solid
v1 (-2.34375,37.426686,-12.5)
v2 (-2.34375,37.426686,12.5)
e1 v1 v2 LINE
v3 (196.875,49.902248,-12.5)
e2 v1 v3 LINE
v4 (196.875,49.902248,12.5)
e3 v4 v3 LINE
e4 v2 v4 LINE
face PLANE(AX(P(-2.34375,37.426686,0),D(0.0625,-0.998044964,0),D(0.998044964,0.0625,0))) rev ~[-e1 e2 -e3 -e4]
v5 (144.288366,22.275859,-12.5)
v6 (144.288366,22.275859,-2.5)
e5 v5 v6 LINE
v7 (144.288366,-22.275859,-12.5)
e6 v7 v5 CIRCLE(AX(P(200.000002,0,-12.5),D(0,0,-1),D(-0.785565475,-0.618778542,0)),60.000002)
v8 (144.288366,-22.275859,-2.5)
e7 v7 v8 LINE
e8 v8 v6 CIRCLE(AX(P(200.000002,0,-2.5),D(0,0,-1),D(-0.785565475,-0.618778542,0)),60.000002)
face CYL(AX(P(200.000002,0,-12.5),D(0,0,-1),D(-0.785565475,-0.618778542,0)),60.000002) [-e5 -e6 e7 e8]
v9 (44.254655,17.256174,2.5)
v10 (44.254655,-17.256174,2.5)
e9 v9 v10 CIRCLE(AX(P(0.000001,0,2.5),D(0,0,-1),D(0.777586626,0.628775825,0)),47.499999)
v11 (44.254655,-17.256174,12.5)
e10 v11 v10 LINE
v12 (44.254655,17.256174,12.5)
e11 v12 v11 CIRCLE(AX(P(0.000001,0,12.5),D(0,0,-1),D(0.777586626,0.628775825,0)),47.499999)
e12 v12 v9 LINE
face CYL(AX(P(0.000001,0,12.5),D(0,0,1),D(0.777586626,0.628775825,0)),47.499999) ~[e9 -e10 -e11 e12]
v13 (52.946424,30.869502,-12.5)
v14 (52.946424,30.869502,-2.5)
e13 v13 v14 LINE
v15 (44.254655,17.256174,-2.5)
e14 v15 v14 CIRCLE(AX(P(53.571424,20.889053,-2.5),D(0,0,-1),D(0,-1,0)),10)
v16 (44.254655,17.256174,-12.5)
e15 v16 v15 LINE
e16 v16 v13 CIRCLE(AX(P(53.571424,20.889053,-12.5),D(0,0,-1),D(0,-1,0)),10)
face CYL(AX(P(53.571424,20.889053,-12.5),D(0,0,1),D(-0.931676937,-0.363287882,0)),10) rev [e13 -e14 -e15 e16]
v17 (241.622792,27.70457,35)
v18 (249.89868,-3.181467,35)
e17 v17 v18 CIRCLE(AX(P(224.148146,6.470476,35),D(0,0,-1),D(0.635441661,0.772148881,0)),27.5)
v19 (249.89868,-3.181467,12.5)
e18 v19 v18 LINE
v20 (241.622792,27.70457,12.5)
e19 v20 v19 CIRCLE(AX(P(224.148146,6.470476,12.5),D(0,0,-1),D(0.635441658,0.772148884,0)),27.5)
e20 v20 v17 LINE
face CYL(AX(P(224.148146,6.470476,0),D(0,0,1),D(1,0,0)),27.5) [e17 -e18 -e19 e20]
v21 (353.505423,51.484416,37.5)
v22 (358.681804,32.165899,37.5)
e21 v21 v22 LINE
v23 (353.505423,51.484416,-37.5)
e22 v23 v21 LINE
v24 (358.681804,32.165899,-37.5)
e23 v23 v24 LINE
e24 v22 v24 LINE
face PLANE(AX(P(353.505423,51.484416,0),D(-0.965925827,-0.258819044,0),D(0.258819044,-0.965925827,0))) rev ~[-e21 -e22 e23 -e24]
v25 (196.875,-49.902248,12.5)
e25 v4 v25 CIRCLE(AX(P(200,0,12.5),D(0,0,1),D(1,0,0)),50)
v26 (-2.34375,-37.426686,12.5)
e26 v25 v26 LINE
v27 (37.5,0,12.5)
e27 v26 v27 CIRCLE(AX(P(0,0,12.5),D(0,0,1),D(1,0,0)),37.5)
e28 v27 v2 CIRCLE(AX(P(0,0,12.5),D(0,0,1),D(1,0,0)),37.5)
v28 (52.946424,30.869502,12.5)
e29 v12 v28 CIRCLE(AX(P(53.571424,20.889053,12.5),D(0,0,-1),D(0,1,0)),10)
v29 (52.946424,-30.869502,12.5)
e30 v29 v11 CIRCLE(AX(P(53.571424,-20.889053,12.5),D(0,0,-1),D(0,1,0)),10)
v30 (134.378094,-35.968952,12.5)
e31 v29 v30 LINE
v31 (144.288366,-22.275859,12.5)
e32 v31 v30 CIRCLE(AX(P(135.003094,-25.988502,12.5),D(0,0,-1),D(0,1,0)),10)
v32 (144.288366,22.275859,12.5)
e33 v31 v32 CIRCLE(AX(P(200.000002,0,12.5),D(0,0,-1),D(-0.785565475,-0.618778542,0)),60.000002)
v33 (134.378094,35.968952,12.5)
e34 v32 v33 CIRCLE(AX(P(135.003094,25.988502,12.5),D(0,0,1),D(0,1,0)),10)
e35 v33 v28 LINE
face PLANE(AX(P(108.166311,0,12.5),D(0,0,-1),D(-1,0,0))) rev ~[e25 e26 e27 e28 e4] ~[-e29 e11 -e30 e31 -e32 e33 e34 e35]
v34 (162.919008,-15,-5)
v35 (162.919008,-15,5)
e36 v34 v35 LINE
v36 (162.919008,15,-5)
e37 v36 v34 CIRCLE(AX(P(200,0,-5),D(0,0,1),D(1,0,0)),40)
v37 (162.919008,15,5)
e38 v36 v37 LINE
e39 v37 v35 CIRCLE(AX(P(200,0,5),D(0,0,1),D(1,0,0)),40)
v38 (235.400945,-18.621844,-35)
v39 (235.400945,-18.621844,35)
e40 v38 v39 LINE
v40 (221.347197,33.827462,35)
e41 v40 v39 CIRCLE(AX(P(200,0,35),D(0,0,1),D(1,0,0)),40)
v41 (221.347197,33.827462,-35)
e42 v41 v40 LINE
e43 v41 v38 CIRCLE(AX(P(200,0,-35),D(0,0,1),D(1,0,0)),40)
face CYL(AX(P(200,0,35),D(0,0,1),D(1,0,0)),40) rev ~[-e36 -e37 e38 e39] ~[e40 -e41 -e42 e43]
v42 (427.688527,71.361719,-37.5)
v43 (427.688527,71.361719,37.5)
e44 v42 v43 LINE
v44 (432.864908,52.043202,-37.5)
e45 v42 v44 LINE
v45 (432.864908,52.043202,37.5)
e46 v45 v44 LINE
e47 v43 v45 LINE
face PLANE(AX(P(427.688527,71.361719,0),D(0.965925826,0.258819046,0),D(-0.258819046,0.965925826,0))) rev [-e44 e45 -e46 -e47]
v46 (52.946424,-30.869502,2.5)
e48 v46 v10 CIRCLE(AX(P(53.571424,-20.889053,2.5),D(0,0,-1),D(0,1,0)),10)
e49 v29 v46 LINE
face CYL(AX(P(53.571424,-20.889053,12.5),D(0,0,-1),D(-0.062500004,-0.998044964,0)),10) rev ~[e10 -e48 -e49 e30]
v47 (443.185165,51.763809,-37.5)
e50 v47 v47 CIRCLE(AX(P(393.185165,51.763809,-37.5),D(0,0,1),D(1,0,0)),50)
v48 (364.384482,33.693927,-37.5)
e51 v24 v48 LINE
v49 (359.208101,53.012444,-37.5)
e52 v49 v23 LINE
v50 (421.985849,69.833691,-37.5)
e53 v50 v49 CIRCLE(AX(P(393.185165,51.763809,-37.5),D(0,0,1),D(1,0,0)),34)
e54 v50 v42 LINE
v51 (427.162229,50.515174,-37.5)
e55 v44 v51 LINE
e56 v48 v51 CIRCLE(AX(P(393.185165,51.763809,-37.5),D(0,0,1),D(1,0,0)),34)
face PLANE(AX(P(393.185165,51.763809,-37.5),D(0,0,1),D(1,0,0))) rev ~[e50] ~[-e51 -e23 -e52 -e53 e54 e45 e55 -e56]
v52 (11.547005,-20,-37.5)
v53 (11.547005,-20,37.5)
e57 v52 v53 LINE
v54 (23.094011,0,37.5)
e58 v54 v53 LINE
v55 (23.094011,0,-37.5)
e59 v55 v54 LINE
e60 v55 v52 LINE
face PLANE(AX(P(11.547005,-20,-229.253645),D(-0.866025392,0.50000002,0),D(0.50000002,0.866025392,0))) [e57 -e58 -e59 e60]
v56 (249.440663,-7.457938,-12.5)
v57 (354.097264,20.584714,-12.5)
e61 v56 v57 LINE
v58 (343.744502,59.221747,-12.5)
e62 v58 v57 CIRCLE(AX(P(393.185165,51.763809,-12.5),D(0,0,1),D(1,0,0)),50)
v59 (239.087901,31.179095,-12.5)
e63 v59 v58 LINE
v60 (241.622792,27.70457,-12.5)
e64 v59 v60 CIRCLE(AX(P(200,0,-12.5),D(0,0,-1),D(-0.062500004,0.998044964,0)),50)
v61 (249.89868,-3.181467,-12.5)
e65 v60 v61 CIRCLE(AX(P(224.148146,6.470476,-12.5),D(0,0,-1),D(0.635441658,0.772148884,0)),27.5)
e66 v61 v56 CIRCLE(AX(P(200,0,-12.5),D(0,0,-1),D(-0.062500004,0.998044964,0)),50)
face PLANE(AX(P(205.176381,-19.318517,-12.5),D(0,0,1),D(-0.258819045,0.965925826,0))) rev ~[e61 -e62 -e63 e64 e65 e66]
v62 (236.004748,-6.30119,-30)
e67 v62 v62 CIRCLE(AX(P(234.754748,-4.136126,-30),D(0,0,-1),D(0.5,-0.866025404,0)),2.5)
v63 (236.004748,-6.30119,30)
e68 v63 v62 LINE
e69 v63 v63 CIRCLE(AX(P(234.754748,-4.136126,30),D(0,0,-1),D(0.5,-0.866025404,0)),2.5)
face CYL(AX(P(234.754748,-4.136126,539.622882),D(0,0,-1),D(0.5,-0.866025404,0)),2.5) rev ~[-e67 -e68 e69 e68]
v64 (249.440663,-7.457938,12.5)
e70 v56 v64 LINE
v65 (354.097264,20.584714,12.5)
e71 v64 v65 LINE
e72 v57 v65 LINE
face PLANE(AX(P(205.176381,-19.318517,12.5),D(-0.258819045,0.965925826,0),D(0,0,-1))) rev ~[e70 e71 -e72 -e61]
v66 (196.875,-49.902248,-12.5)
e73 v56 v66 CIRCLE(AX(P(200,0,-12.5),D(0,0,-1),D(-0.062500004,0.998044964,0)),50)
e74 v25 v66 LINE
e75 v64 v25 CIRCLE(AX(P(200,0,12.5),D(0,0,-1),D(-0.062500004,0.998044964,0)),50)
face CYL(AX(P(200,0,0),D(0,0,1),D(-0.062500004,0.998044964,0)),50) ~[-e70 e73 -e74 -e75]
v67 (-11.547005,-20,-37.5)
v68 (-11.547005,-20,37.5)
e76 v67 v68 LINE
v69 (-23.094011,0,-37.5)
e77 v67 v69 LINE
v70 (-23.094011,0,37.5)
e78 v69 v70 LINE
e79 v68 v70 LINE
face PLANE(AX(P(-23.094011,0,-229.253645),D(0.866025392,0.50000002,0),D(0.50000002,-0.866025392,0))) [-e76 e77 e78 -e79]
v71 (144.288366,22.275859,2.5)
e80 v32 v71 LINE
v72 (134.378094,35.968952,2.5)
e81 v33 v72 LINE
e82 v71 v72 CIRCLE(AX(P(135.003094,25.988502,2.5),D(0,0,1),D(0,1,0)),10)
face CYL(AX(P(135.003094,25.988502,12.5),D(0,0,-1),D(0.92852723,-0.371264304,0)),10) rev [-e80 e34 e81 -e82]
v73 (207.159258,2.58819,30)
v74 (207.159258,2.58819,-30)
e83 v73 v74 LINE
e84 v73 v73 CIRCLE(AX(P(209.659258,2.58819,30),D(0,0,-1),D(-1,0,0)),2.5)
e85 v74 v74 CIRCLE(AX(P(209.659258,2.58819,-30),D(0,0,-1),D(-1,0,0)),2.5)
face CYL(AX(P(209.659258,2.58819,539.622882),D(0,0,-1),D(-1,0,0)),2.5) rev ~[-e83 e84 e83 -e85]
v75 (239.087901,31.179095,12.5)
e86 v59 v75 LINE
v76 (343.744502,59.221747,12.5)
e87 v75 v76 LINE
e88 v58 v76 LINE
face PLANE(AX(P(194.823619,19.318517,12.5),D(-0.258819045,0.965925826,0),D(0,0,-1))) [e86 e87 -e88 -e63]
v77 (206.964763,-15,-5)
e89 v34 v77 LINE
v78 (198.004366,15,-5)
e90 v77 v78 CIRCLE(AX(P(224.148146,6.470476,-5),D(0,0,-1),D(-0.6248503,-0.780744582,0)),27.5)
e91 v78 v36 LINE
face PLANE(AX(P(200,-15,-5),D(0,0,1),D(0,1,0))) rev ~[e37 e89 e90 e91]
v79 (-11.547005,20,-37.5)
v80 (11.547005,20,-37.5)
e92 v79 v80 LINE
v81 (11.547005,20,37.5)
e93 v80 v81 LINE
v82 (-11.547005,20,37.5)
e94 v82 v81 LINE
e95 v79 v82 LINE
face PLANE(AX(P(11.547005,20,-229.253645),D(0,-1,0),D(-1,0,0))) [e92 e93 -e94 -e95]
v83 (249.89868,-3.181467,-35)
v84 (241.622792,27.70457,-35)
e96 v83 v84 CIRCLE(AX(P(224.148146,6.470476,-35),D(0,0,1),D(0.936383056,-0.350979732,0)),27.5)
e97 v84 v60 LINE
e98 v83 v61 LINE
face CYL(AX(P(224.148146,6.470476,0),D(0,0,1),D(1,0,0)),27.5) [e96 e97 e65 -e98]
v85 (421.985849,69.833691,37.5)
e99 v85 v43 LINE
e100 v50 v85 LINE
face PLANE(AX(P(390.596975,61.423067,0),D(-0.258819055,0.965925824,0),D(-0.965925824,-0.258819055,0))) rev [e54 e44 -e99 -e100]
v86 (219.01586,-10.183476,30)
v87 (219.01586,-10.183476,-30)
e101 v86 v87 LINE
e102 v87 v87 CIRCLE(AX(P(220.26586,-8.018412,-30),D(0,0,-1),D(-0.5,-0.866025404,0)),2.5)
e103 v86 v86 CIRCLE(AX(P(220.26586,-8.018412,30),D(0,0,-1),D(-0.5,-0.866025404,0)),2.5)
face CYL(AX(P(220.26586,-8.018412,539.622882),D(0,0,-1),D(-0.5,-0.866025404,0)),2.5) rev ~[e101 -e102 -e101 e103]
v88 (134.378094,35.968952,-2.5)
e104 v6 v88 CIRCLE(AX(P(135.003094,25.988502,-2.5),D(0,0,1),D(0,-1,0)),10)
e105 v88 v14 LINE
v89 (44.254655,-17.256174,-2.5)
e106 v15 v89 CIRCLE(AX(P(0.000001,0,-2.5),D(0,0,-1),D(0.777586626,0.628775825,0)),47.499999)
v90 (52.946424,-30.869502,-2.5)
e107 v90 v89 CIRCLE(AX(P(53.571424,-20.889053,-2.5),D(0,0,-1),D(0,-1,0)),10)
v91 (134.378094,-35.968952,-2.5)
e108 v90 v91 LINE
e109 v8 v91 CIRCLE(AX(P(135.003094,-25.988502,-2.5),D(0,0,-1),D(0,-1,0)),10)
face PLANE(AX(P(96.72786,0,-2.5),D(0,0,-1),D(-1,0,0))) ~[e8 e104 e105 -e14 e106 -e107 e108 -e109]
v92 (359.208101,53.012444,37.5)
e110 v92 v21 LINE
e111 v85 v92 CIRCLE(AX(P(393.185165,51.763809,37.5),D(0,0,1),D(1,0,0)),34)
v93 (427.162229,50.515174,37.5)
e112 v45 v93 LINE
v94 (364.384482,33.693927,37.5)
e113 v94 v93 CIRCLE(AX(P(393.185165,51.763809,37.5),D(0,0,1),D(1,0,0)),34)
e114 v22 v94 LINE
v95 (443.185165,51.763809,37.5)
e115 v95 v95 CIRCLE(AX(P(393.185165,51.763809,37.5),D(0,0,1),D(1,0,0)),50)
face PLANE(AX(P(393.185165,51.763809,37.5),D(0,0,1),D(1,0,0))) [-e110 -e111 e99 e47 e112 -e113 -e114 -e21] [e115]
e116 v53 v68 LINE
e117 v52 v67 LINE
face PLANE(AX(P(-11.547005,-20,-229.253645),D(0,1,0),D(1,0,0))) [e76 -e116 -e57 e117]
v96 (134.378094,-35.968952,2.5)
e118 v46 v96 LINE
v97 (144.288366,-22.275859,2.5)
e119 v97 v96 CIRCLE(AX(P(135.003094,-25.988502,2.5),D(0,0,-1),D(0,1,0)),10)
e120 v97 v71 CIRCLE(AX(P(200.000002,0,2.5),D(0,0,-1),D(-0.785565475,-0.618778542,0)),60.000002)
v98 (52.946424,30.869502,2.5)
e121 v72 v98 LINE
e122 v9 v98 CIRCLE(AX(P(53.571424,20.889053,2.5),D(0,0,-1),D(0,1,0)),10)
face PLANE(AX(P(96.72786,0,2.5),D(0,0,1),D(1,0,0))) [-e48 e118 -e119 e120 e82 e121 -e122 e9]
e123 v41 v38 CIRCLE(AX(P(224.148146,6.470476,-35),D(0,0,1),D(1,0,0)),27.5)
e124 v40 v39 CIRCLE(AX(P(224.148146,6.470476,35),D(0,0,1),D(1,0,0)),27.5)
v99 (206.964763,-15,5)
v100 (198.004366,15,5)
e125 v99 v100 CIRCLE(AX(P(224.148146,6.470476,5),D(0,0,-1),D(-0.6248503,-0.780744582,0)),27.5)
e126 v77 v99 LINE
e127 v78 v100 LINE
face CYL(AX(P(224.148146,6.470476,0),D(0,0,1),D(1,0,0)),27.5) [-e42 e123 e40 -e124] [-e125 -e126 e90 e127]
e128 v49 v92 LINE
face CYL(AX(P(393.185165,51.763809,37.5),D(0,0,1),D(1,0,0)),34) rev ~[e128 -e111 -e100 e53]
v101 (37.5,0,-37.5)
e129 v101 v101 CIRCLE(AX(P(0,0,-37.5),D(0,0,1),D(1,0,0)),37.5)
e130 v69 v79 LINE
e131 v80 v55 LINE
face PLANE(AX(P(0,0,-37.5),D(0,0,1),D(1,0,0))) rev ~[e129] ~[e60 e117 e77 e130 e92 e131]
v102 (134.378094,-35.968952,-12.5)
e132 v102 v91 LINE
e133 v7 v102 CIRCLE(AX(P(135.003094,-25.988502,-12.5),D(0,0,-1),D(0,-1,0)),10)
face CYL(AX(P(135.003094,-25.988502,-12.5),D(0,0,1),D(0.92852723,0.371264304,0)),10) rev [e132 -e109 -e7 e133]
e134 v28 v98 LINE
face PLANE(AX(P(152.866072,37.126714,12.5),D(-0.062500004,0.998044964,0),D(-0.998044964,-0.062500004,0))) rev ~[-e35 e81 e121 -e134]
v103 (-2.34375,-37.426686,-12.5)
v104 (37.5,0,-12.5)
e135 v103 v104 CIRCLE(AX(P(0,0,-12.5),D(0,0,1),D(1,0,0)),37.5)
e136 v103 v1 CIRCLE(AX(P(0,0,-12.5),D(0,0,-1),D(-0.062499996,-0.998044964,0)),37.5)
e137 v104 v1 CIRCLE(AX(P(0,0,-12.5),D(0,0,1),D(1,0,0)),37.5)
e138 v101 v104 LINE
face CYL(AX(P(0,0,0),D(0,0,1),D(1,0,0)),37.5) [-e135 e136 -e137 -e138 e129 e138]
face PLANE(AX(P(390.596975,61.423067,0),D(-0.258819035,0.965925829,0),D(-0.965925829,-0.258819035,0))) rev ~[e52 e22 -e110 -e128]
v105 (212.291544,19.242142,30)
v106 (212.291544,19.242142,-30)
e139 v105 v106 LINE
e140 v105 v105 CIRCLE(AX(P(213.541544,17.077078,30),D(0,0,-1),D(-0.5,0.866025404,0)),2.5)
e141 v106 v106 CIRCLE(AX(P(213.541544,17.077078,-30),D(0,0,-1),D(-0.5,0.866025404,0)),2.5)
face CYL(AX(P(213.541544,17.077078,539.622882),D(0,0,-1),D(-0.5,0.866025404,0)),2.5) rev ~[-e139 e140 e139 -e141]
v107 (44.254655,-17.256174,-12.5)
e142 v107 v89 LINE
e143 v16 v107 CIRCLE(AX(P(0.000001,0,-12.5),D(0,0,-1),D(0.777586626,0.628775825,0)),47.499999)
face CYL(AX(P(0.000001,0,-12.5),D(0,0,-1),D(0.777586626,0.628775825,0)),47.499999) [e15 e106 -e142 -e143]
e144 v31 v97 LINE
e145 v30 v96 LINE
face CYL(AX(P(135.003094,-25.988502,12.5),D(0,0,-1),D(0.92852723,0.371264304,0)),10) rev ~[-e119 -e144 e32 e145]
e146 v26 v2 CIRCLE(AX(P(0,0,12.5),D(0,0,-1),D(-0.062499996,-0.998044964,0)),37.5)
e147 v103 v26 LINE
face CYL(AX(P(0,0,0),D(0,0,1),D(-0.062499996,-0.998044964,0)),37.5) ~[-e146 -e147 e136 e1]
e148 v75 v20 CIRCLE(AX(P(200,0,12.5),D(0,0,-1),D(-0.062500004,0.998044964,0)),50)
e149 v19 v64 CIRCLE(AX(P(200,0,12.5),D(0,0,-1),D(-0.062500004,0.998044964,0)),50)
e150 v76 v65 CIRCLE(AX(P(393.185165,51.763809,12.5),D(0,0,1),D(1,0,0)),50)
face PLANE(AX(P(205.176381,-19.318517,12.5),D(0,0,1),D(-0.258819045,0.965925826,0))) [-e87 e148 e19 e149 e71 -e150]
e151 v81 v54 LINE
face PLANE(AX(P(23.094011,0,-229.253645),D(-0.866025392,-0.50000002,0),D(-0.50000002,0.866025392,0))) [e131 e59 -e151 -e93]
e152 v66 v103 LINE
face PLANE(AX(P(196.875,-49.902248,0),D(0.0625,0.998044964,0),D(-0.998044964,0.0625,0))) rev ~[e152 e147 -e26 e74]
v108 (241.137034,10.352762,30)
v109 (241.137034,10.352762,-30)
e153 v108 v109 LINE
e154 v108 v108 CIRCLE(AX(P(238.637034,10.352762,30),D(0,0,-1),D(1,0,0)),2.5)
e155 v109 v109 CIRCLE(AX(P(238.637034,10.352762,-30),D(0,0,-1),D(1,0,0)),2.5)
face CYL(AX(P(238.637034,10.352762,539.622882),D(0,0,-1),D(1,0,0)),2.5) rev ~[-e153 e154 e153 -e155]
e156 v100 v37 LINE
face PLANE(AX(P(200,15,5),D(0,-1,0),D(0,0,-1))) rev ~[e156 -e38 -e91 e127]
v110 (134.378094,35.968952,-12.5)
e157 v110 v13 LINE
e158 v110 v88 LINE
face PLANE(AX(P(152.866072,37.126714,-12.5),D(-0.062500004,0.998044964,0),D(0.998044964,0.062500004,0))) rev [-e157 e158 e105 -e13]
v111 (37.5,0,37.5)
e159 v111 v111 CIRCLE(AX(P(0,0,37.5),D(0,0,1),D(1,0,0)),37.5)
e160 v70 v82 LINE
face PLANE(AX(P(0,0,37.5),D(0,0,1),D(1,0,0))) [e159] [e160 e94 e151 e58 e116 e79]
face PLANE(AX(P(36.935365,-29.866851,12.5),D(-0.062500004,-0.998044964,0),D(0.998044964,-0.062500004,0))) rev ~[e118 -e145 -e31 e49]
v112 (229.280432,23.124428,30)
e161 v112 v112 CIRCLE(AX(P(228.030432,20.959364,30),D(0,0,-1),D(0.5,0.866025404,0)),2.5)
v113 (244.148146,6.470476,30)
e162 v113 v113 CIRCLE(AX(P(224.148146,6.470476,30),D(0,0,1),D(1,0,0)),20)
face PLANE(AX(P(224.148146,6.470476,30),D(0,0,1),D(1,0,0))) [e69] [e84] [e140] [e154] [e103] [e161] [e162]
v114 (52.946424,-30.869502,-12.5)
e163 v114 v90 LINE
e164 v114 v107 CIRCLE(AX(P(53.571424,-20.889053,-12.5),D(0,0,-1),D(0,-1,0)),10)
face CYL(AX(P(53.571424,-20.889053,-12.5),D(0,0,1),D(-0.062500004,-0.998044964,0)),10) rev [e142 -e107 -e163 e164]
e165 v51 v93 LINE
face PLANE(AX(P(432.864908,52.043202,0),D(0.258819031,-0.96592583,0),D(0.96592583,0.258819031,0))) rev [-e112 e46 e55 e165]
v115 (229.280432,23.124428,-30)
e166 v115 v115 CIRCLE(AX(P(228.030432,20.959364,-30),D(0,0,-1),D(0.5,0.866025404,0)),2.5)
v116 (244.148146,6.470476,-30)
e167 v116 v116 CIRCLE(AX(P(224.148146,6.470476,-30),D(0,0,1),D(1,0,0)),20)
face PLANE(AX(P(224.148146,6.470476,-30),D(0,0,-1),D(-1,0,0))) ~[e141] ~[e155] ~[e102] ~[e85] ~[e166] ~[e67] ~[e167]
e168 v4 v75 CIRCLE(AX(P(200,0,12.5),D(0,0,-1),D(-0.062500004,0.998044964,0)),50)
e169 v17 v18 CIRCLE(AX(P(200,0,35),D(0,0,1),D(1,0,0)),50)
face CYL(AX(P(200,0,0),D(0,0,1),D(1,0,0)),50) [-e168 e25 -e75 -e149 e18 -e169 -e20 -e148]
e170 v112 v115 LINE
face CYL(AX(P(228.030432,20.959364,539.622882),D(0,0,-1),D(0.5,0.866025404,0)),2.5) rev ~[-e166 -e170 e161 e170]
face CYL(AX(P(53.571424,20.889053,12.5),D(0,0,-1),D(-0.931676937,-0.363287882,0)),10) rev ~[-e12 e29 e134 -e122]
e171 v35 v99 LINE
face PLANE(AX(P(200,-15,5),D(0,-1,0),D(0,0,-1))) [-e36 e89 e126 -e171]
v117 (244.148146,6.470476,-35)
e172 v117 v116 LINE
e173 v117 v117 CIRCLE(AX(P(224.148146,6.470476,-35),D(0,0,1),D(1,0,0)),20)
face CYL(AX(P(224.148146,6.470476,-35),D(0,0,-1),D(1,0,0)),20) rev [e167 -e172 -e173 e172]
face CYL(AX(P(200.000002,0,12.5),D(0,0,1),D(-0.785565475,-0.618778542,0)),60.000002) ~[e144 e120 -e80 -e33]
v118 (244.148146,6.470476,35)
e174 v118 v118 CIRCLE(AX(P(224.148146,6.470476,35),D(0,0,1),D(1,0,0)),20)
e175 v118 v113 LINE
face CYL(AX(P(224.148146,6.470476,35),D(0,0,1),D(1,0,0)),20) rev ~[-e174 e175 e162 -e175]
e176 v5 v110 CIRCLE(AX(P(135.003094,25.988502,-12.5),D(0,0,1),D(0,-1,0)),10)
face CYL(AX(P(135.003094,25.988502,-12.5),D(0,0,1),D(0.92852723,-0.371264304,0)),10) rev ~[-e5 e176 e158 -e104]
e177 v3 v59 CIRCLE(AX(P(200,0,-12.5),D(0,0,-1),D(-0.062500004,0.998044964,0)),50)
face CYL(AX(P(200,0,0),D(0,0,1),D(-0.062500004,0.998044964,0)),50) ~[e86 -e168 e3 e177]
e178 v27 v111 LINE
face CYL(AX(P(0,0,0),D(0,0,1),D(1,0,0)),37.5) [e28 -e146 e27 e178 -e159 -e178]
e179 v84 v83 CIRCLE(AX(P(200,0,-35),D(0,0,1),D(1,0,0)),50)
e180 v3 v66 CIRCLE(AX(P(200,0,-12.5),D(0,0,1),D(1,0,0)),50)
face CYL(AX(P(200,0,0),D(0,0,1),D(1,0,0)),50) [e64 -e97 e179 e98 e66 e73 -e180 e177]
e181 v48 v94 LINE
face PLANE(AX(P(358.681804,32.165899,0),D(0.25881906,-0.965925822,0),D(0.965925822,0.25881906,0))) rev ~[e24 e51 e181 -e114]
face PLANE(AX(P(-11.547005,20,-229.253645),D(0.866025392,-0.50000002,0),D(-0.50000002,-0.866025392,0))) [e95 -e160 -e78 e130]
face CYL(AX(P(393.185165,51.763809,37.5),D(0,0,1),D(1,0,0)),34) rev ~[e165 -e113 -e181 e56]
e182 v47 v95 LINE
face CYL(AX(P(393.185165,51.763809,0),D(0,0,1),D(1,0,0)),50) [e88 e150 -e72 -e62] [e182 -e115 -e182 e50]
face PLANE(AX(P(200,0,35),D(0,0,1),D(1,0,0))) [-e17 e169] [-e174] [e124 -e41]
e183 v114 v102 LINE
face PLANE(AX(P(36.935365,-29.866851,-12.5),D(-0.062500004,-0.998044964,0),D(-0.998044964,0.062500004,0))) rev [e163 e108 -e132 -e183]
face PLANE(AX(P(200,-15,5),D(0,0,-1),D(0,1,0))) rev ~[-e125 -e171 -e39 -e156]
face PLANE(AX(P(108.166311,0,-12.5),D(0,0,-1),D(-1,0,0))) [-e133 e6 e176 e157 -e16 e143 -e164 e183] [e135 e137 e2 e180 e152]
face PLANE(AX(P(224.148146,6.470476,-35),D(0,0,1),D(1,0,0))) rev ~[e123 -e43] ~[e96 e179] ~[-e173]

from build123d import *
from build123d.topology import SkipClean

# Parameters (mm, degrees)
LEFT_ARM_DEPTH                = 12.5
SKETCH2_R                     = 37.5
LEFT_BOSS_DEPTH               = 37.5
LEFT_HEX_DEPTH                = 266.753645
LEFT_HEX_DEPTH_BACK           = 266.753645
SKETCH3_R                     = 50
CENTRE_BOSS_DEPTH             = 35
SKETCH5_W                     = 25
SKETCH5_H                     = 40
RIGHT_ARM_DEPTH               = 200
SKETCH7_R                     = 50
RIGHT_BOSS_DEPTH              = 37.5
SKETCH8_R                     = 34
RIGHT_BOSS_HOLE_DEPTH         = 461.862196
SKETCH9_R                     = 40
CENTRE_HOLE_DEPTH             = 461.461957
SKETCH10_R                    = 27.5
CENTRE_BLOB_DEPTH             = 35
CENTRE_BEAM_REACH             = 268.273
SKETCH11_W                    = 10
SKETCH11_H                    = 30
CENTRE_BEAM_DIRECTION_2_REACH = 268.273
SKETCH12_R                    = 20
CUT_EXTRUDE4_DEPTH            = 5
M6X1_0_TAPPED_HOLE1_D         = 5
CIRPATTERN1_COUNT             = 6
CUT_OUT_DEPTH                 = 10
FILLET1_R                     = 10
FILLET1_OF_MIRROR2_R          = 10
KEYWAY_DEPTH                  = 457.26222


with BuildPart() as part:
    # Sketch1 → LEFT_ARM (new, symmetric)
    with BuildSketch(Plane.XY):
        with BuildLine():
            Line((-2.34375, 37.426686), (196.875, 49.902248))
            ThreePointArc((196.875, 49.902248), (250, 0), (196.875, -49.902248))
            Line((196.875, -49.902248), (-2.34375, -37.426686))
            ThreePointArc((-2.34375, -37.426686), (-37.5, 0), (-2.34375, 37.426686))
        make_face()
    extrude(amount=LEFT_ARM_DEPTH, both=True)

    # Sketch2 → LEFT_Boss (add, symmetric)
    with SkipClean():  # the faces are left unmerged after this step: merging them gives an invalid solid
        with BuildSketch(Plane.XY):
            Circle(SKETCH2_R)
        extrude(amount=LEFT_BOSS_DEPTH, both=True)

    # Sketch4 → LEFT_Hex (cut, two sides: drawn at the far end of the back side and taken through both)
    with SkipClean():  # the faces are left unmerged after this step: merging them gives an invalid solid
        with BuildSketch(Plane.XY.offset(37.5).offset(-LEFT_HEX_DEPTH_BACK)):
            Polygon((23.094011, 0), (11.547005, 20), (-11.547005, 20), (-23.094011, 0), (-11.547005, -20), (11.547005, -20), align=None)
        extrude(amount=LEFT_HEX_DEPTH + LEFT_HEX_DEPTH_BACK, mode=Mode.SUBTRACT)

    # Sketch3 → CENTRE_Boss (add, symmetric)
    with SkipClean():  # the faces are left unmerged after this step: merging them gives an invalid solid
        with BuildSketch(Plane.XY):
            with Locations((200, 0)):
                Circle(SKETCH3_R)
        extrude(amount=CENTRE_BOSS_DEPTH, both=True)

    # Sketch5 → RIGHT_ARM (add)
    with SkipClean():  # the faces are left unmerged after this step: merging them gives an invalid solid
        with BuildSketch(Plane(origin=(186.60254, 50, 0), x_dir=(0, 0, -1), z_dir=(0.9659258262890681, 0.25881904510252135, 0))):
            with Locations((0, -51.763809)):
                Rectangle(SKETCH5_W, SKETCH5_H)
        extrude(amount=RIGHT_ARM_DEPTH)

    # Sketch7 → RIGHT_Boss (add, symmetric)
    with SkipClean():  # the faces are left unmerged after this step: merging them gives an invalid solid
        with BuildSketch(Plane.XY):
            with Locations((393.185165, 51.763809)):
                Circle(SKETCH7_R)
        extrude(amount=RIGHT_BOSS_DEPTH, both=True)

    # Sketch8 → RIGHT_Boss_Hole (cut, through all)
    with SkipClean():  # the faces are left unmerged after this step: merging them gives an invalid solid
        with BuildSketch(Plane.XY.offset(37.5)):
            with Locations((393.185165, 51.763809)):
                Circle(SKETCH8_R)
        extrude(amount=-RIGHT_BOSS_HOLE_DEPTH, mode=Mode.SUBTRACT)

    # Sketch9 → CENTRE_Hole (cut, through all)
    with SkipClean():  # the faces are left unmerged after this step: merging them gives an invalid solid
        with BuildSketch(Plane.XY.offset(35)):
            with Locations((200, 0)):
                Circle(SKETCH9_R)
        extrude(amount=-CENTRE_HOLE_DEPTH, mode=Mode.SUBTRACT)

    # Sketch10 → CENTRE_Blob (add, symmetric)
    with SkipClean():  # the faces are left unmerged after this step: merging them gives an invalid solid
        with BuildSketch(Plane.XY):
            with Locations((224.148146, 6.470476)):
                Circle(SKETCH10_R)
        extrude(amount=CENTRE_BLOB_DEPTH, both=True)

    # Sketch11 → CENTRE_Beam (add, up to next)
    with BuildSketch(Plane(origin=(200, 0, 0), x_dir=(0, 0, -1), z_dir=(1, 0, 0)), mode=Mode.PRIVATE) as centre_beam_sk1:
        Rectangle(SKETCH11_W, SKETCH11_H)
    centre_beam_tool1 = extrude(centre_beam_sk1.sketch, amount=CENTRE_BEAM_REACH, mode=Mode.PRIVATE) - part.part
    add(centre_beam_tool1.solids().sort_by_distance((200, 0, 0))[0])

    # Sketch11 → CENTRE_Beam direction 2 (add, up to next)
    with BuildSketch(Plane(origin=(200, 0, 0), x_dir=(0, 0, -1), z_dir=(1, 0, 0)), mode=Mode.PRIVATE) as centre_beam_direction_2_sk1:
        Rectangle(SKETCH11_W, SKETCH11_H)
    centre_beam_direction_2_tool1 = extrude(centre_beam_direction_2_sk1.sketch, amount=-CENTRE_BEAM_DIRECTION_2_REACH, mode=Mode.PRIVATE) - part.part
    add(centre_beam_direction_2_tool1.solids().sort_by_distance((200, 0, 0))[0])

    # Sketch12 → Cut-Extrude4 (cut)
    with SkipClean():  # the faces are left unmerged after this step: merging them gives an invalid solid
        with BuildSketch(Plane.XY.offset(35)):
            with Locations((224.148146, 6.470476)):
                Circle(SKETCH12_R)
        cut_extrude4 = extrude(amount=-CUT_EXTRUDE4_DEPTH, mode=Mode.SUBTRACT)

    # M6x1.0 Tapped Hole1 (through all)
    with Locations(Plane.XY.offset(30)):
        with Locations((209.659258, 2.58819)):
            m6x1_0_tapped_hole1 = Hole(M6X1_0_TAPPED_HOLE1_D / 2)

    # CirPattern1: M6x1.0 Tapped Hole1 ×6 about axis
    with SkipClean():  # the faces are left unmerged after this step: merging them gives an invalid solid
        cirpattern1_axis = Axis((224.148146, 6.470476, 0), (0, 0, 1))
        for i in range(1, CIRPATTERN1_COUNT):
            add(m6x1_0_tapped_hole1.rotate(cirpattern1_axis, i * 360 / CIRPATTERN1_COUNT), mode=Mode.SUBTRACT)

    # Mirror1: Cut-Extrude4 across plane
    with SkipClean():  # the faces are left unmerged after this step: merging them gives an invalid solid
        add(cut_extrude4.mirror(Plane.XY), mode=Mode.SUBTRACT)

    # Sketch15 → Cut_OUT (cut)
    with SkipClean():  # the faces are left unmerged after this step: merging them gives an invalid solid
        with BuildSketch(Plane.XY.offset(12.5)):
            with BuildLine():
                Line((152.866072, 37.126714), (36.935365, 29.866851))
                ThreePointArc((36.935365, 29.866851), (47.5, 0), (36.935365, -29.866851))
                Line((36.935365, -29.866851), (152.866072, -37.126714))
                ThreePointArc((152.866072, -37.126714), (140, 0), (152.866072, 37.126714))
            make_face()
        cut_out = extrude(amount=-CUT_OUT_DEPTH, mode=Mode.SUBTRACT)

    # Fillet1
    fillet1_edges = [part.edges().sort_by_distance(p)[0] for p in [
        (36.935365, -29.866851, 7.5),
        (36.935365, 29.866851, 7.5),
        (152.866072, 37.126714, 7.5),
        (152.866072, -37.126714, 7.5),
    ]]
    fillet(fillet1_edges, radius=FILLET1_R)

    # Mirror2: Cut_OUT across plane
    with SkipClean():  # the faces are left unmerged after this step: merging them gives an invalid solid
        add(cut_out.mirror(Plane.XY), mode=Mode.SUBTRACT)

    # Fillet1 of Mirror2
    fillet1_of_mirror2_edges = [part.edges().sort_by_distance(p)[0] for p in [
        (36.935365, -29.866851, -7.5),
        (36.935365, 29.866851, -7.5),
        (152.866072, 37.126714, -7.5),
        (152.866072, -37.126714, -7.5),
    ]]
    fillet(fillet1_of_mirror2_edges, radius=FILLET1_OF_MIRROR2_R)

    # Sketch16 → KEYWAY (cut, symmetric)
    with SkipClean():  # the faces are left unmerged after this step: merging them gives an invalid solid
        with BuildSketch(Plane.XY):
            Polygon((395.773356, 42.104551), (390.596975, 61.423067), (353.505423, 51.484416), (358.681804, 32.165899), align=None)
        keyway = extrude(amount=KEYWAY_DEPTH, both=True, mode=Mode.SUBTRACT)

    # Mirror3: KEYWAY across plane
    with SkipClean():  # the faces are left unmerged after this step: merging them gives an invalid solid
        add(keyway.mirror(Plane(origin=(379.787706, 101.763809, 0), x_dir=(0, 0, 1), z_dir=(0.9659258262890681, 0.25881904510252135, 0))), mode=Mode.SUBTRACT)


solid = part.part
